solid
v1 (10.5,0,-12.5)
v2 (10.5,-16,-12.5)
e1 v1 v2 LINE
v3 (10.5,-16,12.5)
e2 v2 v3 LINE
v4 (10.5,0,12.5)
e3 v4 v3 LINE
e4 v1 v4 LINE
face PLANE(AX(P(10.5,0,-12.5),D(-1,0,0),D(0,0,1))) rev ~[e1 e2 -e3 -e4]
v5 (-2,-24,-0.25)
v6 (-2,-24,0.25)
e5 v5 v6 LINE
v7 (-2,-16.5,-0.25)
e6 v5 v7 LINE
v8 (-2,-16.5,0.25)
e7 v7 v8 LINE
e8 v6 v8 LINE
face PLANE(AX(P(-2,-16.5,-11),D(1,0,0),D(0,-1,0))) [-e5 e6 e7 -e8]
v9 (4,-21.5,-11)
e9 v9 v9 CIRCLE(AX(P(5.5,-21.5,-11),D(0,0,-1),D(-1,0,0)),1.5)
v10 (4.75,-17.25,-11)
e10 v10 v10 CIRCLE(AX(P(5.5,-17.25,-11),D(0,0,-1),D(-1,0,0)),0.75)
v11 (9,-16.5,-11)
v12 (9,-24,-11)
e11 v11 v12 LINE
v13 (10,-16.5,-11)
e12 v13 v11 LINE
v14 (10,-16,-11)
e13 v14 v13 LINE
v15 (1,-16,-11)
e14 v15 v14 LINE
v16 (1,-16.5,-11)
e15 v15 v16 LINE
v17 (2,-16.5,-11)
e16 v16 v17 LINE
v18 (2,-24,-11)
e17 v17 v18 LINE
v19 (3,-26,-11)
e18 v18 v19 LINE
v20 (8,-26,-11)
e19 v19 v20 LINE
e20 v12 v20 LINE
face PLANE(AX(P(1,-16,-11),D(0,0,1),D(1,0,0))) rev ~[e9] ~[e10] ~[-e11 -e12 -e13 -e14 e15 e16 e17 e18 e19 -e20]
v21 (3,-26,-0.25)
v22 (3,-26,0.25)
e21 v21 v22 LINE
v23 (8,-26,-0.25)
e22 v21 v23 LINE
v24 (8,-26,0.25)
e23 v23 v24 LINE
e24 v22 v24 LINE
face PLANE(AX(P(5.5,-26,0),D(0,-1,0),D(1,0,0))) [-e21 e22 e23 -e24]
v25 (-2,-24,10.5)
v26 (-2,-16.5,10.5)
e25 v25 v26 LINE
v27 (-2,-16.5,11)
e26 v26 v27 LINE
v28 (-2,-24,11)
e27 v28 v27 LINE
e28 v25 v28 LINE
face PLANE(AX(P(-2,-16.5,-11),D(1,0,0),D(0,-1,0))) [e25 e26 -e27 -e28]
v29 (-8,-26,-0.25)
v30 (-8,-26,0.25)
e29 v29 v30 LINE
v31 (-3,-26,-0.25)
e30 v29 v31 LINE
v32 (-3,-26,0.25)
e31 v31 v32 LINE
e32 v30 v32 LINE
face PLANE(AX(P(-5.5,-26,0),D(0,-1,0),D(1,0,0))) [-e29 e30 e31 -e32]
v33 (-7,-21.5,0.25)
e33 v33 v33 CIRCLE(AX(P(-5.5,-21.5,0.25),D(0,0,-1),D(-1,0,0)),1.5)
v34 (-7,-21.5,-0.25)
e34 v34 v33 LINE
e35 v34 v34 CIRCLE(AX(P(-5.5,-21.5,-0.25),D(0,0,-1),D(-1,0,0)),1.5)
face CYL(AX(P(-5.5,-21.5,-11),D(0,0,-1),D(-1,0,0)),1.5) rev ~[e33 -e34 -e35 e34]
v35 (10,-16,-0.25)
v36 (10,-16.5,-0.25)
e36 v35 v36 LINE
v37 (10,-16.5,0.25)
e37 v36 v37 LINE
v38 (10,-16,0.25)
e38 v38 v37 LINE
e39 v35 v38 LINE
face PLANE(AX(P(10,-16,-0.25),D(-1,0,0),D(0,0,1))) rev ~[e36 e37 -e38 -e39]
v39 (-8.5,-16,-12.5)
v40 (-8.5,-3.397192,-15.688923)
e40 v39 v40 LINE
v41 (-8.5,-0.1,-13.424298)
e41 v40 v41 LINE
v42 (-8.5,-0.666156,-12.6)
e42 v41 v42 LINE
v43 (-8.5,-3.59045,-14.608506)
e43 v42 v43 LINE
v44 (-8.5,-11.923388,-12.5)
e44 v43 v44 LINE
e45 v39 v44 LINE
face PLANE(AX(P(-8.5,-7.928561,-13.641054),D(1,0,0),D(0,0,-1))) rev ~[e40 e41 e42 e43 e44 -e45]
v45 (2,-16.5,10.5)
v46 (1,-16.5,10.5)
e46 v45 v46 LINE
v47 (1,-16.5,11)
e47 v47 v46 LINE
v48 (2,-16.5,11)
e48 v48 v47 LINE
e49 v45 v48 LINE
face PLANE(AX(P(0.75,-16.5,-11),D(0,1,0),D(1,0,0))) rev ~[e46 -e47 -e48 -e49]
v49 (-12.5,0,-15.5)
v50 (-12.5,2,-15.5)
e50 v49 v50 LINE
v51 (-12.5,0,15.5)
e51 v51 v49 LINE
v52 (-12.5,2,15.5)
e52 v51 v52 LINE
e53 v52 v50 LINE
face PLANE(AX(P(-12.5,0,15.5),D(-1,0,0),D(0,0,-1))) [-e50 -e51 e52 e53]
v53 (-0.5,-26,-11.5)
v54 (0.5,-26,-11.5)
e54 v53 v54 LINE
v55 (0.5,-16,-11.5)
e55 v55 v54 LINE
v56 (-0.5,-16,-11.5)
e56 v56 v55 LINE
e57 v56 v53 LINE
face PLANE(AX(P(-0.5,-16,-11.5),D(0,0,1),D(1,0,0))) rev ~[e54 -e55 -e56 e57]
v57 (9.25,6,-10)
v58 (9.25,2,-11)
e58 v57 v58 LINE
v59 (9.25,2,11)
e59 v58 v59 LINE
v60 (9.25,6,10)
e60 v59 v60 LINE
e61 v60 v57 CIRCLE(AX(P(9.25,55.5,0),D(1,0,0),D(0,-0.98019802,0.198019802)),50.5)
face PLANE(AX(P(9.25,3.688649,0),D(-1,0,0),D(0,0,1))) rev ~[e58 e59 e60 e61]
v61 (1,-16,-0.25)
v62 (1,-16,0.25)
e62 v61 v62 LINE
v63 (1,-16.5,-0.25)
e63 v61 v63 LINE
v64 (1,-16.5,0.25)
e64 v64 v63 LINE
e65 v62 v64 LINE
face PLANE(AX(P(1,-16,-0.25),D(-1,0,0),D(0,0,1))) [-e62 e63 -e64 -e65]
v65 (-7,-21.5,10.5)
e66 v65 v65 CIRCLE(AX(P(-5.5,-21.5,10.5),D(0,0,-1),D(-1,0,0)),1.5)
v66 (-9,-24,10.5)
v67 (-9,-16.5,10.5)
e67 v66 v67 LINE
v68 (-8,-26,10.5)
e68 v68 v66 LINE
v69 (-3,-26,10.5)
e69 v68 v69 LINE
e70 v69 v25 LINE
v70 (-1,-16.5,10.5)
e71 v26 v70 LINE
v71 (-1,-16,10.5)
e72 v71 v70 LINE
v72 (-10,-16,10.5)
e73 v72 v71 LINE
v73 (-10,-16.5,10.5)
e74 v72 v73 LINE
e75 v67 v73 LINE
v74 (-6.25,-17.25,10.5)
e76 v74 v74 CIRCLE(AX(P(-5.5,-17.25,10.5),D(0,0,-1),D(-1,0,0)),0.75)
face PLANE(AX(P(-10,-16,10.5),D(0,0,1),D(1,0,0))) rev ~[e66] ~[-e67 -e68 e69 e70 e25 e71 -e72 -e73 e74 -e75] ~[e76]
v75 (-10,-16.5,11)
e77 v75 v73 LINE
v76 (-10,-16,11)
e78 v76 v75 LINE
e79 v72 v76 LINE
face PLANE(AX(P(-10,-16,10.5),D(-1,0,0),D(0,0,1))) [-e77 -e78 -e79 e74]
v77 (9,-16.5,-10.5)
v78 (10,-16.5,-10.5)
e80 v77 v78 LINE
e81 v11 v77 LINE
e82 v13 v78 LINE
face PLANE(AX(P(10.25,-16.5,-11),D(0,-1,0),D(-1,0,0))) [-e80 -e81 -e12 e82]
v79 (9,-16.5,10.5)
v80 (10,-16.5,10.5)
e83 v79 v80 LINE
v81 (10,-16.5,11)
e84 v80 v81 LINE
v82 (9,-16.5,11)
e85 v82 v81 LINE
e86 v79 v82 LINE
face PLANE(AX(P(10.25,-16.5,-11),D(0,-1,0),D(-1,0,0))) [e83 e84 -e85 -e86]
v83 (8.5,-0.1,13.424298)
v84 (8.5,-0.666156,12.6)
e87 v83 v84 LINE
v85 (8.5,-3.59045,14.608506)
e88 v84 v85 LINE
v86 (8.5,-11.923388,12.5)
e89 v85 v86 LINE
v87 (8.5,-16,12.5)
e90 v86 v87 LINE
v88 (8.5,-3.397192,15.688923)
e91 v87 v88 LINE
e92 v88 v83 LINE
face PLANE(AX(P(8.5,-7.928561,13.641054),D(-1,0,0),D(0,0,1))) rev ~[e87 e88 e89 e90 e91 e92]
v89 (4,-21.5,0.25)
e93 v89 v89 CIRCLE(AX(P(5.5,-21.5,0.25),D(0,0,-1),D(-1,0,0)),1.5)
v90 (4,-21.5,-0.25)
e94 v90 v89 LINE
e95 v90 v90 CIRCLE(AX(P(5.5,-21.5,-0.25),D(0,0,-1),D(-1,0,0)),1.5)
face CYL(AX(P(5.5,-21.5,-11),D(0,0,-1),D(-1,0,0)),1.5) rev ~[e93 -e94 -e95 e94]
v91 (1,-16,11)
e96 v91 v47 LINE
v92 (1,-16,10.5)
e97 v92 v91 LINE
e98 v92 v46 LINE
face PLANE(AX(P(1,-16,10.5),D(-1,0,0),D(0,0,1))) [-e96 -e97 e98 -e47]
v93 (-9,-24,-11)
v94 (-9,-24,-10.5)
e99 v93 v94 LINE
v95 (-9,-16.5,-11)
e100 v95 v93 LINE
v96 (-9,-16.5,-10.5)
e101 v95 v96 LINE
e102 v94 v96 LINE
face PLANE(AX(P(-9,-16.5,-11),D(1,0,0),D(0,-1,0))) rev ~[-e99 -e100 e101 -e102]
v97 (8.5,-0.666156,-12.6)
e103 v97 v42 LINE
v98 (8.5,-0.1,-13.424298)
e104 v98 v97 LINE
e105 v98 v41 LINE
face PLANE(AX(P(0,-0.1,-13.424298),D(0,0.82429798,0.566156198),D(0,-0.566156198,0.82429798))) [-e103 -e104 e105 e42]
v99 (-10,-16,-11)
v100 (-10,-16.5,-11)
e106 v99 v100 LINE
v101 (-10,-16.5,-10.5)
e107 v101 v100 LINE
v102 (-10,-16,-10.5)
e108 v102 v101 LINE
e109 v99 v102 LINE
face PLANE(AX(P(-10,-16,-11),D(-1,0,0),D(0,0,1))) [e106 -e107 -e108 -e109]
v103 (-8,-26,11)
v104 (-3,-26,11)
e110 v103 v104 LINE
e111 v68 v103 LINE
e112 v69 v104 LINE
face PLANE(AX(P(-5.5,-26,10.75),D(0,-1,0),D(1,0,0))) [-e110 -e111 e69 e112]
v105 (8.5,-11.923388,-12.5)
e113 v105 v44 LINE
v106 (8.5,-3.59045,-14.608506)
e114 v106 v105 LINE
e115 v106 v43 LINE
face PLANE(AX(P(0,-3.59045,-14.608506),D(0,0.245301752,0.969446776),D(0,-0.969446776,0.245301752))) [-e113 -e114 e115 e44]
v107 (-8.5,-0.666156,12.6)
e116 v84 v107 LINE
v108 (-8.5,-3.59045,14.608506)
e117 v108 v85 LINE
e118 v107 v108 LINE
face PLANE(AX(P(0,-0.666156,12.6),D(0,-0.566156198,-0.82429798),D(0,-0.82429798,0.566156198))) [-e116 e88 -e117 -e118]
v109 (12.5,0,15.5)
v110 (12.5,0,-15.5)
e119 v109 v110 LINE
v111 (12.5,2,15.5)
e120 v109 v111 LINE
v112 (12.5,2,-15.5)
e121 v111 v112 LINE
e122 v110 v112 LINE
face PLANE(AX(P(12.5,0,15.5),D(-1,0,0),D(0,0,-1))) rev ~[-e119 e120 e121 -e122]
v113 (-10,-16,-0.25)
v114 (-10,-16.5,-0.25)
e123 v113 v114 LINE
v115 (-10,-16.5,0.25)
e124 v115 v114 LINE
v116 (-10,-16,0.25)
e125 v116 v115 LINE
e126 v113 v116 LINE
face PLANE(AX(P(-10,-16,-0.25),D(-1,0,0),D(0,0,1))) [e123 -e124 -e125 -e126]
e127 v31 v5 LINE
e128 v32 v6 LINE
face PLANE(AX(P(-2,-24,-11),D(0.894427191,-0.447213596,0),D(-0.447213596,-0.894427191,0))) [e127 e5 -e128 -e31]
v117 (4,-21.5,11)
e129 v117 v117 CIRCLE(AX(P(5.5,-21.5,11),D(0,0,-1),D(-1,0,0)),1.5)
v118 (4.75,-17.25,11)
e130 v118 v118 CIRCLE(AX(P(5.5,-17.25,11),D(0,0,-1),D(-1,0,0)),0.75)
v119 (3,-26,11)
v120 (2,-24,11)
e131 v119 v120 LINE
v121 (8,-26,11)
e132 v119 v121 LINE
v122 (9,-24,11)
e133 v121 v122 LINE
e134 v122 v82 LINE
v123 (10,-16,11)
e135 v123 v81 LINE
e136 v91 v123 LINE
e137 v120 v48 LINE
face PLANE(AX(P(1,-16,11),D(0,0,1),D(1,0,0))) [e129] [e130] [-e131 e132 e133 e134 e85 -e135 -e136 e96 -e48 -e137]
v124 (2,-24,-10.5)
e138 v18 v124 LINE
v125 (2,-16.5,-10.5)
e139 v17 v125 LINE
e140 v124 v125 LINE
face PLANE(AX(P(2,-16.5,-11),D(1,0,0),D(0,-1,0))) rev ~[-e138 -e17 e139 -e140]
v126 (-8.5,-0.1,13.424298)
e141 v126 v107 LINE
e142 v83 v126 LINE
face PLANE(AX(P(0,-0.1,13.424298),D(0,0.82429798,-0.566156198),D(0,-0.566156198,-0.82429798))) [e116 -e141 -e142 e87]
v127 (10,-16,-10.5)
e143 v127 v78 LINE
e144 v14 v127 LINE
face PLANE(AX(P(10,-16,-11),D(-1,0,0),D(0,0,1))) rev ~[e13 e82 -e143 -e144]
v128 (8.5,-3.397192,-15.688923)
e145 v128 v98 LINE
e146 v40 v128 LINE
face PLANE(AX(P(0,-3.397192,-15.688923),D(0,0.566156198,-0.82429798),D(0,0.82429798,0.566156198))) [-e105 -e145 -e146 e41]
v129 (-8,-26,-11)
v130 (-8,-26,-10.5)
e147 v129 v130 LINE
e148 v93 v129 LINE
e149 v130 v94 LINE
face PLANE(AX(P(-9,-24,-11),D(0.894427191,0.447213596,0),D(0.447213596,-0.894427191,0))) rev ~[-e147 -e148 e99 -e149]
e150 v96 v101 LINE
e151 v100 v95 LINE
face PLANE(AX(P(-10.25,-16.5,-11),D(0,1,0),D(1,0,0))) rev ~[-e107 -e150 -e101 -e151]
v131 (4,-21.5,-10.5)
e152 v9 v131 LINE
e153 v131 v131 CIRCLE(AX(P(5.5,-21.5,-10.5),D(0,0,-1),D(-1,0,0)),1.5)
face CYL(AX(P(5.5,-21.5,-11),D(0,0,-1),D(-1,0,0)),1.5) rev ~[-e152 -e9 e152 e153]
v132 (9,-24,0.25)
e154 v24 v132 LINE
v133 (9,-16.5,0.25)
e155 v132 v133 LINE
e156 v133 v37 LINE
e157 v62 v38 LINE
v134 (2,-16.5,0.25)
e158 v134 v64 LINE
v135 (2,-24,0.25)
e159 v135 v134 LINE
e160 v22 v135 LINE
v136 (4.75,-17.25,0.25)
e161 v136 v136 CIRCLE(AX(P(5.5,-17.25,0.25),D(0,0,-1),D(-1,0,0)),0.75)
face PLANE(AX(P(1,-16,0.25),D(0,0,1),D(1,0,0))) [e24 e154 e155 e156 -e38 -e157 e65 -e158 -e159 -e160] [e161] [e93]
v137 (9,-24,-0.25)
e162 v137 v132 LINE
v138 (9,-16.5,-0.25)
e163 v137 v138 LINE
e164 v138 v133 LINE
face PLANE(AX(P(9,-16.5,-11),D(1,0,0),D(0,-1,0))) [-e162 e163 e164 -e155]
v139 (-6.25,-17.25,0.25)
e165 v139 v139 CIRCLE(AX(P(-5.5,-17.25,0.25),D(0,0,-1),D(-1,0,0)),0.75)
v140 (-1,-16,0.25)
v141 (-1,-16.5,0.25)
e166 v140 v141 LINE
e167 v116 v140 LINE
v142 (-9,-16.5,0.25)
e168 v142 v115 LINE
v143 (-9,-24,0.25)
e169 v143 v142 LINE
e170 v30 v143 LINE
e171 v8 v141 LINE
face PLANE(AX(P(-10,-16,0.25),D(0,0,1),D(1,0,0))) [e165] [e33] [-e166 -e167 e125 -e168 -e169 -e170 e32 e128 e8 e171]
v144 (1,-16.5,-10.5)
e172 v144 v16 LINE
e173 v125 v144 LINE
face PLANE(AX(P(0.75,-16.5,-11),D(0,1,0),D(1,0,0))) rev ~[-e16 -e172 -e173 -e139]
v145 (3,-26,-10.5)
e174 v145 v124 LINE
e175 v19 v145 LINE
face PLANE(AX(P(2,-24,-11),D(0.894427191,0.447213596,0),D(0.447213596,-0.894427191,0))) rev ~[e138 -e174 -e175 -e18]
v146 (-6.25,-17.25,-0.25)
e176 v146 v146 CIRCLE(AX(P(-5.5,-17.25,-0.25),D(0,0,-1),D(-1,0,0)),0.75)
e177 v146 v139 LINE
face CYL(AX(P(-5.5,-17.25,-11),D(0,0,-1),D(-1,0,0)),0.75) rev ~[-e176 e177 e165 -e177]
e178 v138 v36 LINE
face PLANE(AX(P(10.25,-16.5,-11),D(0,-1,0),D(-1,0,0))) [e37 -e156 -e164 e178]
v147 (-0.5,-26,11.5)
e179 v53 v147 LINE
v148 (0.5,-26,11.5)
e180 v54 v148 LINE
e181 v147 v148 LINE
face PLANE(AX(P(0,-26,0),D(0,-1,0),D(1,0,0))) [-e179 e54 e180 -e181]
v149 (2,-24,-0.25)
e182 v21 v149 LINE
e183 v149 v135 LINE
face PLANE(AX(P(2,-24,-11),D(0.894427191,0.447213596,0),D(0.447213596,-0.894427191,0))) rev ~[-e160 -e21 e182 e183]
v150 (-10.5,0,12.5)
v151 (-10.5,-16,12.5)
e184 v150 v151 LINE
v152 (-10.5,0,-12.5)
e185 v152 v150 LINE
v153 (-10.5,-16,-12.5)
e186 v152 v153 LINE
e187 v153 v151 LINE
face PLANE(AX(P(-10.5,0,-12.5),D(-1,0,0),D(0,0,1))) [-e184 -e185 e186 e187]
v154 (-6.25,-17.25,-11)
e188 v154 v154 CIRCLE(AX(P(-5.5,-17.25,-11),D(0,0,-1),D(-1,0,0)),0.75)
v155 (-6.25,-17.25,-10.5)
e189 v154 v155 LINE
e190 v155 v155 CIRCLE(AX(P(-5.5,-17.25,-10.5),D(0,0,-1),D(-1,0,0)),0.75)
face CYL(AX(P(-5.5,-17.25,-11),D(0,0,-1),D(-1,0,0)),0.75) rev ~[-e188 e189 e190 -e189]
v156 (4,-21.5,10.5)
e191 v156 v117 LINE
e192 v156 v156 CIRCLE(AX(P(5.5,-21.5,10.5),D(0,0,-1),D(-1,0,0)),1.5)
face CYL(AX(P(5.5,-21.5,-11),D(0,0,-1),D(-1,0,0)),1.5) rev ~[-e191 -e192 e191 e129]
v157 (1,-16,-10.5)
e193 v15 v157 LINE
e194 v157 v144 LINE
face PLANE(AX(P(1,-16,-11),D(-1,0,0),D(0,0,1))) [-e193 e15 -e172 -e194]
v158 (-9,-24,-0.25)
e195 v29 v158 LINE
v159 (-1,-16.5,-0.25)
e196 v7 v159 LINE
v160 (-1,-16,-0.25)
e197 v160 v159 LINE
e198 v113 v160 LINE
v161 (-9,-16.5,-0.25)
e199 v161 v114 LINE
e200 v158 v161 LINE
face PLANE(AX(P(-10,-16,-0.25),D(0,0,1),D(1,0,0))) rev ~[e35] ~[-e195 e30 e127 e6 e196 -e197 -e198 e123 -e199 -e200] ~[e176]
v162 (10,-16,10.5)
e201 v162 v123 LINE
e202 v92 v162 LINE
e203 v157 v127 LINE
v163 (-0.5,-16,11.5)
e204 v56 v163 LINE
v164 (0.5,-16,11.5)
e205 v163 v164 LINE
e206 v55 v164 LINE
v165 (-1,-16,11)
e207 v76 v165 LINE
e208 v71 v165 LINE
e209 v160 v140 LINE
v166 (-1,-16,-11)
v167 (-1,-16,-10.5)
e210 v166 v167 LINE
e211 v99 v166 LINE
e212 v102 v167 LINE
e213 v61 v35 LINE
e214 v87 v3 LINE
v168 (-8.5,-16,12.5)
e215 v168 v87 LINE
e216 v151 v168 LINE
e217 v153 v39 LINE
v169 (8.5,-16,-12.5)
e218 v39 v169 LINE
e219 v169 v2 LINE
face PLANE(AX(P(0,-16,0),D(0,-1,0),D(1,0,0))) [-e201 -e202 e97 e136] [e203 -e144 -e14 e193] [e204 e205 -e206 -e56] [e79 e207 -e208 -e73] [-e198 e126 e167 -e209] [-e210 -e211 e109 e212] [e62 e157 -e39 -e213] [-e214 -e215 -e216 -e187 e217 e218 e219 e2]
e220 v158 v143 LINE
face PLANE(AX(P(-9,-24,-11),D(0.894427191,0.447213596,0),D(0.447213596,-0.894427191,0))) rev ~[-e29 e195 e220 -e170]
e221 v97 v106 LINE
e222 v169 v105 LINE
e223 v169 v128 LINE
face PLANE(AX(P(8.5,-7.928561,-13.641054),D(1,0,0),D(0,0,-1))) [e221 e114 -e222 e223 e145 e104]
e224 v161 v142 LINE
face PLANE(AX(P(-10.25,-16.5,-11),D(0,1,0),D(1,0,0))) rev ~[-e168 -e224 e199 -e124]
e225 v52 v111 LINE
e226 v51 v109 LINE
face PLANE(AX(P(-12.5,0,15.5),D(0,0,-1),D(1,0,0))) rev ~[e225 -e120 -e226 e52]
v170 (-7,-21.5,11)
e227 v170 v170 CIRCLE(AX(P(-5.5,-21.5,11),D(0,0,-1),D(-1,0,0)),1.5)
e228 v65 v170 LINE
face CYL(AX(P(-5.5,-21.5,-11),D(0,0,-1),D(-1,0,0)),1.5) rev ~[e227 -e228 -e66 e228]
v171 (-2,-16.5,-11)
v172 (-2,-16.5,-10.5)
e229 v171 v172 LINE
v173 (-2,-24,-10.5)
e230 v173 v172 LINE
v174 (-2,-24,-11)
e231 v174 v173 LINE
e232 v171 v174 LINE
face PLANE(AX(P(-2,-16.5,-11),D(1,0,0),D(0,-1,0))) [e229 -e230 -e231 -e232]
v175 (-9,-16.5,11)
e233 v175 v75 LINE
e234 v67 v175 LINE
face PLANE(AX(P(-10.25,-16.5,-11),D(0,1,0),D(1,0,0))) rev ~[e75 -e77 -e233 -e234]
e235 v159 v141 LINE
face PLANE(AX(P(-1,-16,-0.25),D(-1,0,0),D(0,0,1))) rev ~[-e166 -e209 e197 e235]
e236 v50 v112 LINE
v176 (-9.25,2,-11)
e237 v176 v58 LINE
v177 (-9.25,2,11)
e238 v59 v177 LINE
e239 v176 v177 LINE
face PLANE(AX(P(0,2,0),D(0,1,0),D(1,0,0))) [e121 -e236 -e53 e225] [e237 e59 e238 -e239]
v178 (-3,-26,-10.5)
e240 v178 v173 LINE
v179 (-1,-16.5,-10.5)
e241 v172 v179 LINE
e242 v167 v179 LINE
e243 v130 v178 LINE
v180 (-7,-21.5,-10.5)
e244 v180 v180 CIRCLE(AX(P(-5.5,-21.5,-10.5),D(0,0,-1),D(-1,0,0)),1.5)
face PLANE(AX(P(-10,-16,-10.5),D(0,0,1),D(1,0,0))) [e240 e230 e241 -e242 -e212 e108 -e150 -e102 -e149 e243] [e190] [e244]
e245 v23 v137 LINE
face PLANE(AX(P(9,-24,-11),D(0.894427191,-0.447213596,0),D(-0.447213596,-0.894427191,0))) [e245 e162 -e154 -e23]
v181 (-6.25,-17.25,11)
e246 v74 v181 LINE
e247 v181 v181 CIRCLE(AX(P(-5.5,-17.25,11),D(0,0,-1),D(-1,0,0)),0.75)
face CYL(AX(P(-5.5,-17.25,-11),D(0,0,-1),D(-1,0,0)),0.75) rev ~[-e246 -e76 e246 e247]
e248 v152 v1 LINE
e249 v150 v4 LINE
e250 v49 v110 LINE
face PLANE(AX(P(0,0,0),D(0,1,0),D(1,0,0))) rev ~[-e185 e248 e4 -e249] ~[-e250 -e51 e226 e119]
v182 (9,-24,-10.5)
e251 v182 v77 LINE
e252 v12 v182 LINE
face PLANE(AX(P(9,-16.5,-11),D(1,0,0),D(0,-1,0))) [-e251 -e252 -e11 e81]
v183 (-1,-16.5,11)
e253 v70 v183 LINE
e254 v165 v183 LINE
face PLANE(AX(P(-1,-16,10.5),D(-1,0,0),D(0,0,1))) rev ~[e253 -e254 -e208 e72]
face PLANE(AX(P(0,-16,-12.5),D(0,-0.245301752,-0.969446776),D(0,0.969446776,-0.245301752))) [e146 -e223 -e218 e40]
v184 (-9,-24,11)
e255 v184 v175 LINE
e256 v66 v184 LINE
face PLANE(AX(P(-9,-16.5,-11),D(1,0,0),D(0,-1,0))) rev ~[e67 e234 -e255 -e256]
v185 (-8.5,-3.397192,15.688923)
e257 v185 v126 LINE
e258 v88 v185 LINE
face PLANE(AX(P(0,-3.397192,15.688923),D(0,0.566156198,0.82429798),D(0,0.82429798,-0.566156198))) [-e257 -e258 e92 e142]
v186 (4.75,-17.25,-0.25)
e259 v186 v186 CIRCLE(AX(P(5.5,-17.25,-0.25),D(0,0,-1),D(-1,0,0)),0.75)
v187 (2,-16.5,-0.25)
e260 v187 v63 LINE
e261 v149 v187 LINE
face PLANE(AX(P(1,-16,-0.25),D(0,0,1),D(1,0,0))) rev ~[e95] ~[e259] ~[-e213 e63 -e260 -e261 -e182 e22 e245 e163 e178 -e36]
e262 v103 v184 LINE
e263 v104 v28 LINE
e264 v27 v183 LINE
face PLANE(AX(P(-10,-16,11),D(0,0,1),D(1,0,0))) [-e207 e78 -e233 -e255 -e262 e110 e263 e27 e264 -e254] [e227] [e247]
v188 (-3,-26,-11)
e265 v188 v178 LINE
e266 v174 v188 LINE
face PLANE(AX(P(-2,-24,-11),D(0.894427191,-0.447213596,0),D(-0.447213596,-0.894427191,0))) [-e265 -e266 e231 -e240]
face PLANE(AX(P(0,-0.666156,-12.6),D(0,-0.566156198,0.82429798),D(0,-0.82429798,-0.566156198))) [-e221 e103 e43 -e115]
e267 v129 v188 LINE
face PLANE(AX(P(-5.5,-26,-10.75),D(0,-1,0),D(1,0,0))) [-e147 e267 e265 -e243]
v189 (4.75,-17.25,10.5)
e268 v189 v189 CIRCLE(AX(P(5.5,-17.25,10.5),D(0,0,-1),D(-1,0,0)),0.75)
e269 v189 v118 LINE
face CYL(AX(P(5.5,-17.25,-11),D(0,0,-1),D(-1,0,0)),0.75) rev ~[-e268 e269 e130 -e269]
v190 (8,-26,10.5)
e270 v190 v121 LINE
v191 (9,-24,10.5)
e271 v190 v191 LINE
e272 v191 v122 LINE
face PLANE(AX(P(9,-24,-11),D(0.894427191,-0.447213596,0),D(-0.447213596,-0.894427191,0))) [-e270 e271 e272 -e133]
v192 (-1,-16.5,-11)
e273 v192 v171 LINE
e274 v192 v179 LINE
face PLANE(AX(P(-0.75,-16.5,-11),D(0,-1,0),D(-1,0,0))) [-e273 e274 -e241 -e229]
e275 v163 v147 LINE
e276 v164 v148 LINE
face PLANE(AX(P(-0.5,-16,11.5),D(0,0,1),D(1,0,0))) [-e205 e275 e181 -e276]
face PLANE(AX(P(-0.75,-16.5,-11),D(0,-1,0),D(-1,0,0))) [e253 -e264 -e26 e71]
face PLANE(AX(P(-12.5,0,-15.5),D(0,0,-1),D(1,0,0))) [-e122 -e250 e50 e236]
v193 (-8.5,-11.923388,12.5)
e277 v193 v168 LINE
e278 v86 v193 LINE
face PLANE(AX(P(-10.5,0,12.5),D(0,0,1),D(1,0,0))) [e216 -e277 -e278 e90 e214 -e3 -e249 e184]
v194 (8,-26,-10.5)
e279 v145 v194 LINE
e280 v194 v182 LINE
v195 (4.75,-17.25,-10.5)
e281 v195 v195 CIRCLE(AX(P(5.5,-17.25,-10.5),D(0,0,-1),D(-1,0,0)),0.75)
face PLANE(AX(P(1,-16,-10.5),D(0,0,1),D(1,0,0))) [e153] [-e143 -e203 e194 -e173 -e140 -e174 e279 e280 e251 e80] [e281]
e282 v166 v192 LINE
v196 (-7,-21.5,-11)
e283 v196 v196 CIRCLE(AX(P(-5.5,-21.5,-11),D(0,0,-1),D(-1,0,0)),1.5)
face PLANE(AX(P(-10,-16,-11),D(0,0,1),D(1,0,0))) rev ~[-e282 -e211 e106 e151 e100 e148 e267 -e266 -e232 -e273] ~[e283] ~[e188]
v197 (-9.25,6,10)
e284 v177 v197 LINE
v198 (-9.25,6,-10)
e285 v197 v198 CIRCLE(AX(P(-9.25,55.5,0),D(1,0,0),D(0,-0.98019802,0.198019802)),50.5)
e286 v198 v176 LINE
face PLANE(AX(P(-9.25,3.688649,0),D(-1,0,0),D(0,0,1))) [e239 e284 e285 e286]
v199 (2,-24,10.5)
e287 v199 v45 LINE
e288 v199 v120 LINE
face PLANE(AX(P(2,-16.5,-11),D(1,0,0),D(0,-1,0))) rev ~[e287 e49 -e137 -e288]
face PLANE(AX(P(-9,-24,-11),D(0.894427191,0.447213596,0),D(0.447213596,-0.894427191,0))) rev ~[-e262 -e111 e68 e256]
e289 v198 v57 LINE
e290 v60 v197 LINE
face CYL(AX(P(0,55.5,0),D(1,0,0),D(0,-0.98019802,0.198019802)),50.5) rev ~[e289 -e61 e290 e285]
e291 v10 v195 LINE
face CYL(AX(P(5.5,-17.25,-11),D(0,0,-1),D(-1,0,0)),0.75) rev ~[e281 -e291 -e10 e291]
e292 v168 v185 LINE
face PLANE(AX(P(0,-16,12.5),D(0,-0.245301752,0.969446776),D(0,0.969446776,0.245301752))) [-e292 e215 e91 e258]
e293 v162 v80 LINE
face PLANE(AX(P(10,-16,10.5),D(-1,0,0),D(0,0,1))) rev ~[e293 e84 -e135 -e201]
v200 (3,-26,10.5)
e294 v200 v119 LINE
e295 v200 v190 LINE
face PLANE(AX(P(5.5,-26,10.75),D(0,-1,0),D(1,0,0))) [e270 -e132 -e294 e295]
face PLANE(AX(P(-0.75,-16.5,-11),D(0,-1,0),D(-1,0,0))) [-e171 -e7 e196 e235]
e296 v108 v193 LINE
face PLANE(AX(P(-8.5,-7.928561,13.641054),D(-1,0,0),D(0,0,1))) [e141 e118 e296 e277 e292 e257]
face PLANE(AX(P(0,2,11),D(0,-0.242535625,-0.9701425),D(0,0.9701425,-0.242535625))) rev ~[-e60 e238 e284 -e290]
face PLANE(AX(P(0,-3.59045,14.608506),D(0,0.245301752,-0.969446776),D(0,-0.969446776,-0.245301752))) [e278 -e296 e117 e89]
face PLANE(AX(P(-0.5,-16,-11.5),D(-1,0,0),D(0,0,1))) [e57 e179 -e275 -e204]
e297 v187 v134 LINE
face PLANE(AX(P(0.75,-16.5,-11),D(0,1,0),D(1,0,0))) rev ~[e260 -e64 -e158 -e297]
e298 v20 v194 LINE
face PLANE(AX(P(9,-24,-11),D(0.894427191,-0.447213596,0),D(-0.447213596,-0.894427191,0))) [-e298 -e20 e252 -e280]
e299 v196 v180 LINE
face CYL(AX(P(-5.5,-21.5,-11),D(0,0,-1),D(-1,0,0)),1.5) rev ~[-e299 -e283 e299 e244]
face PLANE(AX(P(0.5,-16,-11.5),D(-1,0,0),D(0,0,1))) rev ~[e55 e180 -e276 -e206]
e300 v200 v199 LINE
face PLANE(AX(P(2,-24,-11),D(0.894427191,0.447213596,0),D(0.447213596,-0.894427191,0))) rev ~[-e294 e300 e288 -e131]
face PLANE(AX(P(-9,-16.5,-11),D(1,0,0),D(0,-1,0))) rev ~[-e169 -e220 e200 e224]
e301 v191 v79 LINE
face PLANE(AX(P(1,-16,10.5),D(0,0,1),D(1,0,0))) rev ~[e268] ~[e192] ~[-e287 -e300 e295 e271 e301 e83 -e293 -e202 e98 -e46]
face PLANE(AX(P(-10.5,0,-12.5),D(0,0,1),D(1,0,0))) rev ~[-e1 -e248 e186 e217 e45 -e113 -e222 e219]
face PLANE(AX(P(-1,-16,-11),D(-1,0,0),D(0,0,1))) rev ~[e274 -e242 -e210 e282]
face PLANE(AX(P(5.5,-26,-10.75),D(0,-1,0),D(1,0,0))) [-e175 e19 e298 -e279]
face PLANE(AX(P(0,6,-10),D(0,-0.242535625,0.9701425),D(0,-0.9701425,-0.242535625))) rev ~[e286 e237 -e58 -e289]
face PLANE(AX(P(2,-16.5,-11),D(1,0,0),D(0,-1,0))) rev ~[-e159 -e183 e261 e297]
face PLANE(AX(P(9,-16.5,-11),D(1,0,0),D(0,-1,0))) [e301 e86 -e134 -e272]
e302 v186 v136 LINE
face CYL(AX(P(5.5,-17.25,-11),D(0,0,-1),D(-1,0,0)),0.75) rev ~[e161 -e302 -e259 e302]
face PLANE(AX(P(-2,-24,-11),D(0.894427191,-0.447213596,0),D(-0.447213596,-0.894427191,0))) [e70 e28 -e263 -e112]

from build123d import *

# Parameters (mm, degrees)
SKETCH_1_W          = 25
SKETCH_1_H          = 31
EXTRUDE_1_DEPTH     = 2
SKETCH_2_W          = 21
SKETCH_2_H          = 25
EXTRUDE_2_DEPTH     = 16
EXTRUDE_3_DEPTH     = 9.25
EXTRUDE_5_DEPTH     = 8.5
SKETCH_5_W          = 1
SKETCH_5_H          = 23
SKETCH_5_W_2        = 9
SKETCH_5_H_2        = 0.5
EXTRUDE_6_DEPTH     = 10
SKETCH_6_R          = 1.5
SKETCH_6_R_2        = 0.75
CUT_EXTRUDE_1_DEPTH = 27.688922773


with BuildPart() as part:
    # Эскиз1 → Бобышка-Вытянуть1 (new body)
    with BuildSketch(Plane(origin=(0, 0, 0), x_dir=(1, 0, 0), z_dir=(0, 1, 0))):
        Rectangle(SKETCH_1_W, SKETCH_1_H)
    extrude(amount=EXTRUDE_1_DEPTH)

    # Эскиз2 → Бобышка-Вытянуть2 (add)
    with BuildSketch(Plane.XZ):
        Rectangle(SKETCH_2_W, SKETCH_2_H)
    extrude(amount=EXTRUDE_2_DEPTH)

    # Эскиз3 → Бобышка-Вытянуть3 (add, symmetric)
    with BuildSketch(Plane(origin=(0, 0, 0), x_dir=(0, 0, -1), z_dir=(1, 0, 0))):
        with BuildLine():
            Line((11, 2), (-11, 2))
            Line((-11, 2), (-10, 6))
            ThreePointArc((-10, 6), (0, 5), (10, 6))
            Line((10, 6), (11, 2))
        make_face()
    extrude(amount=EXTRUDE_3_DEPTH, both=True)

    # Эскиз4 → Бобышка-Вытянуть5 (add, symmetric)
    with BuildSketch(Plane(origin=(0, 0, 0), x_dir=(0, 0, -1), z_dir=(1, 0, 0))):
        Polygon((-12.5, -16), (-15.688922773, -3.397191918), (-13.42429798, -0.1), (-12.6, -0.666156198), (-14.608505885, -3.590450497), (-11.530553224, -15.754698248), align=None)
        Polygon((14.608505885, -3.590450497), (11.530553224, -15.754698248), (12.5, -16), (15.688922773, -3.397191918), (13.42429798, -0.1), (12.6, -0.666156198), align=None)
    extrude(amount=EXTRUDE_5_DEPTH, both=True)

    # Эскиз5 → Бобышка-Вытянуть6 (add)
    with BuildSketch(Plane.XZ.offset(16)):
        Rectangle(SKETCH_5_W, SKETCH_5_H)
        with Locations((5.5, -10.75)):
            Rectangle(SKETCH_5_W_2, SKETCH_5_H_2)
        with Locations((5.5, 10.75)):
            Rectangle(SKETCH_5_W_2, SKETCH_5_H_2)
        with Locations((5.5, 0)):
            Rectangle(SKETCH_5_W_2, SKETCH_5_H_2)
        with Locations((-5.5, -10.75)):
            Rectangle(SKETCH_5_W_2, SKETCH_5_H_2)
        with Locations((-5.5, 0)):
            Rectangle(SKETCH_5_W_2, SKETCH_5_H_2)
        with Locations((-5.5, 10.75)):
            Rectangle(SKETCH_5_W_2, SKETCH_5_H_2)
    extrude(amount=EXTRUDE_6_DEPTH)

    # Эскиз6 → Вырез-Вытянуть1 (cut, through all)
    with BuildSketch(Plane(origin=(0, 0, -11), x_dir=(-1, 0, 0), z_dir=(0, 0, -1))):
        with Locations((-5.5, -21.5)):
            Circle(SKETCH_6_R)
        with Locations((-5.5, -17.25)):
            Circle(SKETCH_6_R_2)
        with Locations((5.5, -17.25)):
            Circle(SKETCH_6_R_2)
        with Locations((5.5, -21.5)):
            Circle(SKETCH_6_R)
        Polygon((-10.25, -16.5), (-9, -16.5), (-9, -24), (-8, -26), (-8, -27.807511946), (-10.25, -27.807511946), align=None)
        Polygon((-3, -27.807511946), (-0.75, -27.807511946), (-0.75, -16.5), (-2, -16.5), (-2, -24), (-3, -26), align=None)
        Polygon((3, -26), (3, -27.807511946), (0.75, -27.807511946), (0.75, -16.5), (2, -16.5), (2, -24), align=None)
        Polygon((8, -27.807511946), (10.25, -27.807511946), (10.25, -16.5), (9, -16.5), (9, -24), (8, -26), align=None)
    extrude(amount=-CUT_EXTRUDE_1_DEPTH, mode=Mode.SUBTRACT)


solid = part.part
